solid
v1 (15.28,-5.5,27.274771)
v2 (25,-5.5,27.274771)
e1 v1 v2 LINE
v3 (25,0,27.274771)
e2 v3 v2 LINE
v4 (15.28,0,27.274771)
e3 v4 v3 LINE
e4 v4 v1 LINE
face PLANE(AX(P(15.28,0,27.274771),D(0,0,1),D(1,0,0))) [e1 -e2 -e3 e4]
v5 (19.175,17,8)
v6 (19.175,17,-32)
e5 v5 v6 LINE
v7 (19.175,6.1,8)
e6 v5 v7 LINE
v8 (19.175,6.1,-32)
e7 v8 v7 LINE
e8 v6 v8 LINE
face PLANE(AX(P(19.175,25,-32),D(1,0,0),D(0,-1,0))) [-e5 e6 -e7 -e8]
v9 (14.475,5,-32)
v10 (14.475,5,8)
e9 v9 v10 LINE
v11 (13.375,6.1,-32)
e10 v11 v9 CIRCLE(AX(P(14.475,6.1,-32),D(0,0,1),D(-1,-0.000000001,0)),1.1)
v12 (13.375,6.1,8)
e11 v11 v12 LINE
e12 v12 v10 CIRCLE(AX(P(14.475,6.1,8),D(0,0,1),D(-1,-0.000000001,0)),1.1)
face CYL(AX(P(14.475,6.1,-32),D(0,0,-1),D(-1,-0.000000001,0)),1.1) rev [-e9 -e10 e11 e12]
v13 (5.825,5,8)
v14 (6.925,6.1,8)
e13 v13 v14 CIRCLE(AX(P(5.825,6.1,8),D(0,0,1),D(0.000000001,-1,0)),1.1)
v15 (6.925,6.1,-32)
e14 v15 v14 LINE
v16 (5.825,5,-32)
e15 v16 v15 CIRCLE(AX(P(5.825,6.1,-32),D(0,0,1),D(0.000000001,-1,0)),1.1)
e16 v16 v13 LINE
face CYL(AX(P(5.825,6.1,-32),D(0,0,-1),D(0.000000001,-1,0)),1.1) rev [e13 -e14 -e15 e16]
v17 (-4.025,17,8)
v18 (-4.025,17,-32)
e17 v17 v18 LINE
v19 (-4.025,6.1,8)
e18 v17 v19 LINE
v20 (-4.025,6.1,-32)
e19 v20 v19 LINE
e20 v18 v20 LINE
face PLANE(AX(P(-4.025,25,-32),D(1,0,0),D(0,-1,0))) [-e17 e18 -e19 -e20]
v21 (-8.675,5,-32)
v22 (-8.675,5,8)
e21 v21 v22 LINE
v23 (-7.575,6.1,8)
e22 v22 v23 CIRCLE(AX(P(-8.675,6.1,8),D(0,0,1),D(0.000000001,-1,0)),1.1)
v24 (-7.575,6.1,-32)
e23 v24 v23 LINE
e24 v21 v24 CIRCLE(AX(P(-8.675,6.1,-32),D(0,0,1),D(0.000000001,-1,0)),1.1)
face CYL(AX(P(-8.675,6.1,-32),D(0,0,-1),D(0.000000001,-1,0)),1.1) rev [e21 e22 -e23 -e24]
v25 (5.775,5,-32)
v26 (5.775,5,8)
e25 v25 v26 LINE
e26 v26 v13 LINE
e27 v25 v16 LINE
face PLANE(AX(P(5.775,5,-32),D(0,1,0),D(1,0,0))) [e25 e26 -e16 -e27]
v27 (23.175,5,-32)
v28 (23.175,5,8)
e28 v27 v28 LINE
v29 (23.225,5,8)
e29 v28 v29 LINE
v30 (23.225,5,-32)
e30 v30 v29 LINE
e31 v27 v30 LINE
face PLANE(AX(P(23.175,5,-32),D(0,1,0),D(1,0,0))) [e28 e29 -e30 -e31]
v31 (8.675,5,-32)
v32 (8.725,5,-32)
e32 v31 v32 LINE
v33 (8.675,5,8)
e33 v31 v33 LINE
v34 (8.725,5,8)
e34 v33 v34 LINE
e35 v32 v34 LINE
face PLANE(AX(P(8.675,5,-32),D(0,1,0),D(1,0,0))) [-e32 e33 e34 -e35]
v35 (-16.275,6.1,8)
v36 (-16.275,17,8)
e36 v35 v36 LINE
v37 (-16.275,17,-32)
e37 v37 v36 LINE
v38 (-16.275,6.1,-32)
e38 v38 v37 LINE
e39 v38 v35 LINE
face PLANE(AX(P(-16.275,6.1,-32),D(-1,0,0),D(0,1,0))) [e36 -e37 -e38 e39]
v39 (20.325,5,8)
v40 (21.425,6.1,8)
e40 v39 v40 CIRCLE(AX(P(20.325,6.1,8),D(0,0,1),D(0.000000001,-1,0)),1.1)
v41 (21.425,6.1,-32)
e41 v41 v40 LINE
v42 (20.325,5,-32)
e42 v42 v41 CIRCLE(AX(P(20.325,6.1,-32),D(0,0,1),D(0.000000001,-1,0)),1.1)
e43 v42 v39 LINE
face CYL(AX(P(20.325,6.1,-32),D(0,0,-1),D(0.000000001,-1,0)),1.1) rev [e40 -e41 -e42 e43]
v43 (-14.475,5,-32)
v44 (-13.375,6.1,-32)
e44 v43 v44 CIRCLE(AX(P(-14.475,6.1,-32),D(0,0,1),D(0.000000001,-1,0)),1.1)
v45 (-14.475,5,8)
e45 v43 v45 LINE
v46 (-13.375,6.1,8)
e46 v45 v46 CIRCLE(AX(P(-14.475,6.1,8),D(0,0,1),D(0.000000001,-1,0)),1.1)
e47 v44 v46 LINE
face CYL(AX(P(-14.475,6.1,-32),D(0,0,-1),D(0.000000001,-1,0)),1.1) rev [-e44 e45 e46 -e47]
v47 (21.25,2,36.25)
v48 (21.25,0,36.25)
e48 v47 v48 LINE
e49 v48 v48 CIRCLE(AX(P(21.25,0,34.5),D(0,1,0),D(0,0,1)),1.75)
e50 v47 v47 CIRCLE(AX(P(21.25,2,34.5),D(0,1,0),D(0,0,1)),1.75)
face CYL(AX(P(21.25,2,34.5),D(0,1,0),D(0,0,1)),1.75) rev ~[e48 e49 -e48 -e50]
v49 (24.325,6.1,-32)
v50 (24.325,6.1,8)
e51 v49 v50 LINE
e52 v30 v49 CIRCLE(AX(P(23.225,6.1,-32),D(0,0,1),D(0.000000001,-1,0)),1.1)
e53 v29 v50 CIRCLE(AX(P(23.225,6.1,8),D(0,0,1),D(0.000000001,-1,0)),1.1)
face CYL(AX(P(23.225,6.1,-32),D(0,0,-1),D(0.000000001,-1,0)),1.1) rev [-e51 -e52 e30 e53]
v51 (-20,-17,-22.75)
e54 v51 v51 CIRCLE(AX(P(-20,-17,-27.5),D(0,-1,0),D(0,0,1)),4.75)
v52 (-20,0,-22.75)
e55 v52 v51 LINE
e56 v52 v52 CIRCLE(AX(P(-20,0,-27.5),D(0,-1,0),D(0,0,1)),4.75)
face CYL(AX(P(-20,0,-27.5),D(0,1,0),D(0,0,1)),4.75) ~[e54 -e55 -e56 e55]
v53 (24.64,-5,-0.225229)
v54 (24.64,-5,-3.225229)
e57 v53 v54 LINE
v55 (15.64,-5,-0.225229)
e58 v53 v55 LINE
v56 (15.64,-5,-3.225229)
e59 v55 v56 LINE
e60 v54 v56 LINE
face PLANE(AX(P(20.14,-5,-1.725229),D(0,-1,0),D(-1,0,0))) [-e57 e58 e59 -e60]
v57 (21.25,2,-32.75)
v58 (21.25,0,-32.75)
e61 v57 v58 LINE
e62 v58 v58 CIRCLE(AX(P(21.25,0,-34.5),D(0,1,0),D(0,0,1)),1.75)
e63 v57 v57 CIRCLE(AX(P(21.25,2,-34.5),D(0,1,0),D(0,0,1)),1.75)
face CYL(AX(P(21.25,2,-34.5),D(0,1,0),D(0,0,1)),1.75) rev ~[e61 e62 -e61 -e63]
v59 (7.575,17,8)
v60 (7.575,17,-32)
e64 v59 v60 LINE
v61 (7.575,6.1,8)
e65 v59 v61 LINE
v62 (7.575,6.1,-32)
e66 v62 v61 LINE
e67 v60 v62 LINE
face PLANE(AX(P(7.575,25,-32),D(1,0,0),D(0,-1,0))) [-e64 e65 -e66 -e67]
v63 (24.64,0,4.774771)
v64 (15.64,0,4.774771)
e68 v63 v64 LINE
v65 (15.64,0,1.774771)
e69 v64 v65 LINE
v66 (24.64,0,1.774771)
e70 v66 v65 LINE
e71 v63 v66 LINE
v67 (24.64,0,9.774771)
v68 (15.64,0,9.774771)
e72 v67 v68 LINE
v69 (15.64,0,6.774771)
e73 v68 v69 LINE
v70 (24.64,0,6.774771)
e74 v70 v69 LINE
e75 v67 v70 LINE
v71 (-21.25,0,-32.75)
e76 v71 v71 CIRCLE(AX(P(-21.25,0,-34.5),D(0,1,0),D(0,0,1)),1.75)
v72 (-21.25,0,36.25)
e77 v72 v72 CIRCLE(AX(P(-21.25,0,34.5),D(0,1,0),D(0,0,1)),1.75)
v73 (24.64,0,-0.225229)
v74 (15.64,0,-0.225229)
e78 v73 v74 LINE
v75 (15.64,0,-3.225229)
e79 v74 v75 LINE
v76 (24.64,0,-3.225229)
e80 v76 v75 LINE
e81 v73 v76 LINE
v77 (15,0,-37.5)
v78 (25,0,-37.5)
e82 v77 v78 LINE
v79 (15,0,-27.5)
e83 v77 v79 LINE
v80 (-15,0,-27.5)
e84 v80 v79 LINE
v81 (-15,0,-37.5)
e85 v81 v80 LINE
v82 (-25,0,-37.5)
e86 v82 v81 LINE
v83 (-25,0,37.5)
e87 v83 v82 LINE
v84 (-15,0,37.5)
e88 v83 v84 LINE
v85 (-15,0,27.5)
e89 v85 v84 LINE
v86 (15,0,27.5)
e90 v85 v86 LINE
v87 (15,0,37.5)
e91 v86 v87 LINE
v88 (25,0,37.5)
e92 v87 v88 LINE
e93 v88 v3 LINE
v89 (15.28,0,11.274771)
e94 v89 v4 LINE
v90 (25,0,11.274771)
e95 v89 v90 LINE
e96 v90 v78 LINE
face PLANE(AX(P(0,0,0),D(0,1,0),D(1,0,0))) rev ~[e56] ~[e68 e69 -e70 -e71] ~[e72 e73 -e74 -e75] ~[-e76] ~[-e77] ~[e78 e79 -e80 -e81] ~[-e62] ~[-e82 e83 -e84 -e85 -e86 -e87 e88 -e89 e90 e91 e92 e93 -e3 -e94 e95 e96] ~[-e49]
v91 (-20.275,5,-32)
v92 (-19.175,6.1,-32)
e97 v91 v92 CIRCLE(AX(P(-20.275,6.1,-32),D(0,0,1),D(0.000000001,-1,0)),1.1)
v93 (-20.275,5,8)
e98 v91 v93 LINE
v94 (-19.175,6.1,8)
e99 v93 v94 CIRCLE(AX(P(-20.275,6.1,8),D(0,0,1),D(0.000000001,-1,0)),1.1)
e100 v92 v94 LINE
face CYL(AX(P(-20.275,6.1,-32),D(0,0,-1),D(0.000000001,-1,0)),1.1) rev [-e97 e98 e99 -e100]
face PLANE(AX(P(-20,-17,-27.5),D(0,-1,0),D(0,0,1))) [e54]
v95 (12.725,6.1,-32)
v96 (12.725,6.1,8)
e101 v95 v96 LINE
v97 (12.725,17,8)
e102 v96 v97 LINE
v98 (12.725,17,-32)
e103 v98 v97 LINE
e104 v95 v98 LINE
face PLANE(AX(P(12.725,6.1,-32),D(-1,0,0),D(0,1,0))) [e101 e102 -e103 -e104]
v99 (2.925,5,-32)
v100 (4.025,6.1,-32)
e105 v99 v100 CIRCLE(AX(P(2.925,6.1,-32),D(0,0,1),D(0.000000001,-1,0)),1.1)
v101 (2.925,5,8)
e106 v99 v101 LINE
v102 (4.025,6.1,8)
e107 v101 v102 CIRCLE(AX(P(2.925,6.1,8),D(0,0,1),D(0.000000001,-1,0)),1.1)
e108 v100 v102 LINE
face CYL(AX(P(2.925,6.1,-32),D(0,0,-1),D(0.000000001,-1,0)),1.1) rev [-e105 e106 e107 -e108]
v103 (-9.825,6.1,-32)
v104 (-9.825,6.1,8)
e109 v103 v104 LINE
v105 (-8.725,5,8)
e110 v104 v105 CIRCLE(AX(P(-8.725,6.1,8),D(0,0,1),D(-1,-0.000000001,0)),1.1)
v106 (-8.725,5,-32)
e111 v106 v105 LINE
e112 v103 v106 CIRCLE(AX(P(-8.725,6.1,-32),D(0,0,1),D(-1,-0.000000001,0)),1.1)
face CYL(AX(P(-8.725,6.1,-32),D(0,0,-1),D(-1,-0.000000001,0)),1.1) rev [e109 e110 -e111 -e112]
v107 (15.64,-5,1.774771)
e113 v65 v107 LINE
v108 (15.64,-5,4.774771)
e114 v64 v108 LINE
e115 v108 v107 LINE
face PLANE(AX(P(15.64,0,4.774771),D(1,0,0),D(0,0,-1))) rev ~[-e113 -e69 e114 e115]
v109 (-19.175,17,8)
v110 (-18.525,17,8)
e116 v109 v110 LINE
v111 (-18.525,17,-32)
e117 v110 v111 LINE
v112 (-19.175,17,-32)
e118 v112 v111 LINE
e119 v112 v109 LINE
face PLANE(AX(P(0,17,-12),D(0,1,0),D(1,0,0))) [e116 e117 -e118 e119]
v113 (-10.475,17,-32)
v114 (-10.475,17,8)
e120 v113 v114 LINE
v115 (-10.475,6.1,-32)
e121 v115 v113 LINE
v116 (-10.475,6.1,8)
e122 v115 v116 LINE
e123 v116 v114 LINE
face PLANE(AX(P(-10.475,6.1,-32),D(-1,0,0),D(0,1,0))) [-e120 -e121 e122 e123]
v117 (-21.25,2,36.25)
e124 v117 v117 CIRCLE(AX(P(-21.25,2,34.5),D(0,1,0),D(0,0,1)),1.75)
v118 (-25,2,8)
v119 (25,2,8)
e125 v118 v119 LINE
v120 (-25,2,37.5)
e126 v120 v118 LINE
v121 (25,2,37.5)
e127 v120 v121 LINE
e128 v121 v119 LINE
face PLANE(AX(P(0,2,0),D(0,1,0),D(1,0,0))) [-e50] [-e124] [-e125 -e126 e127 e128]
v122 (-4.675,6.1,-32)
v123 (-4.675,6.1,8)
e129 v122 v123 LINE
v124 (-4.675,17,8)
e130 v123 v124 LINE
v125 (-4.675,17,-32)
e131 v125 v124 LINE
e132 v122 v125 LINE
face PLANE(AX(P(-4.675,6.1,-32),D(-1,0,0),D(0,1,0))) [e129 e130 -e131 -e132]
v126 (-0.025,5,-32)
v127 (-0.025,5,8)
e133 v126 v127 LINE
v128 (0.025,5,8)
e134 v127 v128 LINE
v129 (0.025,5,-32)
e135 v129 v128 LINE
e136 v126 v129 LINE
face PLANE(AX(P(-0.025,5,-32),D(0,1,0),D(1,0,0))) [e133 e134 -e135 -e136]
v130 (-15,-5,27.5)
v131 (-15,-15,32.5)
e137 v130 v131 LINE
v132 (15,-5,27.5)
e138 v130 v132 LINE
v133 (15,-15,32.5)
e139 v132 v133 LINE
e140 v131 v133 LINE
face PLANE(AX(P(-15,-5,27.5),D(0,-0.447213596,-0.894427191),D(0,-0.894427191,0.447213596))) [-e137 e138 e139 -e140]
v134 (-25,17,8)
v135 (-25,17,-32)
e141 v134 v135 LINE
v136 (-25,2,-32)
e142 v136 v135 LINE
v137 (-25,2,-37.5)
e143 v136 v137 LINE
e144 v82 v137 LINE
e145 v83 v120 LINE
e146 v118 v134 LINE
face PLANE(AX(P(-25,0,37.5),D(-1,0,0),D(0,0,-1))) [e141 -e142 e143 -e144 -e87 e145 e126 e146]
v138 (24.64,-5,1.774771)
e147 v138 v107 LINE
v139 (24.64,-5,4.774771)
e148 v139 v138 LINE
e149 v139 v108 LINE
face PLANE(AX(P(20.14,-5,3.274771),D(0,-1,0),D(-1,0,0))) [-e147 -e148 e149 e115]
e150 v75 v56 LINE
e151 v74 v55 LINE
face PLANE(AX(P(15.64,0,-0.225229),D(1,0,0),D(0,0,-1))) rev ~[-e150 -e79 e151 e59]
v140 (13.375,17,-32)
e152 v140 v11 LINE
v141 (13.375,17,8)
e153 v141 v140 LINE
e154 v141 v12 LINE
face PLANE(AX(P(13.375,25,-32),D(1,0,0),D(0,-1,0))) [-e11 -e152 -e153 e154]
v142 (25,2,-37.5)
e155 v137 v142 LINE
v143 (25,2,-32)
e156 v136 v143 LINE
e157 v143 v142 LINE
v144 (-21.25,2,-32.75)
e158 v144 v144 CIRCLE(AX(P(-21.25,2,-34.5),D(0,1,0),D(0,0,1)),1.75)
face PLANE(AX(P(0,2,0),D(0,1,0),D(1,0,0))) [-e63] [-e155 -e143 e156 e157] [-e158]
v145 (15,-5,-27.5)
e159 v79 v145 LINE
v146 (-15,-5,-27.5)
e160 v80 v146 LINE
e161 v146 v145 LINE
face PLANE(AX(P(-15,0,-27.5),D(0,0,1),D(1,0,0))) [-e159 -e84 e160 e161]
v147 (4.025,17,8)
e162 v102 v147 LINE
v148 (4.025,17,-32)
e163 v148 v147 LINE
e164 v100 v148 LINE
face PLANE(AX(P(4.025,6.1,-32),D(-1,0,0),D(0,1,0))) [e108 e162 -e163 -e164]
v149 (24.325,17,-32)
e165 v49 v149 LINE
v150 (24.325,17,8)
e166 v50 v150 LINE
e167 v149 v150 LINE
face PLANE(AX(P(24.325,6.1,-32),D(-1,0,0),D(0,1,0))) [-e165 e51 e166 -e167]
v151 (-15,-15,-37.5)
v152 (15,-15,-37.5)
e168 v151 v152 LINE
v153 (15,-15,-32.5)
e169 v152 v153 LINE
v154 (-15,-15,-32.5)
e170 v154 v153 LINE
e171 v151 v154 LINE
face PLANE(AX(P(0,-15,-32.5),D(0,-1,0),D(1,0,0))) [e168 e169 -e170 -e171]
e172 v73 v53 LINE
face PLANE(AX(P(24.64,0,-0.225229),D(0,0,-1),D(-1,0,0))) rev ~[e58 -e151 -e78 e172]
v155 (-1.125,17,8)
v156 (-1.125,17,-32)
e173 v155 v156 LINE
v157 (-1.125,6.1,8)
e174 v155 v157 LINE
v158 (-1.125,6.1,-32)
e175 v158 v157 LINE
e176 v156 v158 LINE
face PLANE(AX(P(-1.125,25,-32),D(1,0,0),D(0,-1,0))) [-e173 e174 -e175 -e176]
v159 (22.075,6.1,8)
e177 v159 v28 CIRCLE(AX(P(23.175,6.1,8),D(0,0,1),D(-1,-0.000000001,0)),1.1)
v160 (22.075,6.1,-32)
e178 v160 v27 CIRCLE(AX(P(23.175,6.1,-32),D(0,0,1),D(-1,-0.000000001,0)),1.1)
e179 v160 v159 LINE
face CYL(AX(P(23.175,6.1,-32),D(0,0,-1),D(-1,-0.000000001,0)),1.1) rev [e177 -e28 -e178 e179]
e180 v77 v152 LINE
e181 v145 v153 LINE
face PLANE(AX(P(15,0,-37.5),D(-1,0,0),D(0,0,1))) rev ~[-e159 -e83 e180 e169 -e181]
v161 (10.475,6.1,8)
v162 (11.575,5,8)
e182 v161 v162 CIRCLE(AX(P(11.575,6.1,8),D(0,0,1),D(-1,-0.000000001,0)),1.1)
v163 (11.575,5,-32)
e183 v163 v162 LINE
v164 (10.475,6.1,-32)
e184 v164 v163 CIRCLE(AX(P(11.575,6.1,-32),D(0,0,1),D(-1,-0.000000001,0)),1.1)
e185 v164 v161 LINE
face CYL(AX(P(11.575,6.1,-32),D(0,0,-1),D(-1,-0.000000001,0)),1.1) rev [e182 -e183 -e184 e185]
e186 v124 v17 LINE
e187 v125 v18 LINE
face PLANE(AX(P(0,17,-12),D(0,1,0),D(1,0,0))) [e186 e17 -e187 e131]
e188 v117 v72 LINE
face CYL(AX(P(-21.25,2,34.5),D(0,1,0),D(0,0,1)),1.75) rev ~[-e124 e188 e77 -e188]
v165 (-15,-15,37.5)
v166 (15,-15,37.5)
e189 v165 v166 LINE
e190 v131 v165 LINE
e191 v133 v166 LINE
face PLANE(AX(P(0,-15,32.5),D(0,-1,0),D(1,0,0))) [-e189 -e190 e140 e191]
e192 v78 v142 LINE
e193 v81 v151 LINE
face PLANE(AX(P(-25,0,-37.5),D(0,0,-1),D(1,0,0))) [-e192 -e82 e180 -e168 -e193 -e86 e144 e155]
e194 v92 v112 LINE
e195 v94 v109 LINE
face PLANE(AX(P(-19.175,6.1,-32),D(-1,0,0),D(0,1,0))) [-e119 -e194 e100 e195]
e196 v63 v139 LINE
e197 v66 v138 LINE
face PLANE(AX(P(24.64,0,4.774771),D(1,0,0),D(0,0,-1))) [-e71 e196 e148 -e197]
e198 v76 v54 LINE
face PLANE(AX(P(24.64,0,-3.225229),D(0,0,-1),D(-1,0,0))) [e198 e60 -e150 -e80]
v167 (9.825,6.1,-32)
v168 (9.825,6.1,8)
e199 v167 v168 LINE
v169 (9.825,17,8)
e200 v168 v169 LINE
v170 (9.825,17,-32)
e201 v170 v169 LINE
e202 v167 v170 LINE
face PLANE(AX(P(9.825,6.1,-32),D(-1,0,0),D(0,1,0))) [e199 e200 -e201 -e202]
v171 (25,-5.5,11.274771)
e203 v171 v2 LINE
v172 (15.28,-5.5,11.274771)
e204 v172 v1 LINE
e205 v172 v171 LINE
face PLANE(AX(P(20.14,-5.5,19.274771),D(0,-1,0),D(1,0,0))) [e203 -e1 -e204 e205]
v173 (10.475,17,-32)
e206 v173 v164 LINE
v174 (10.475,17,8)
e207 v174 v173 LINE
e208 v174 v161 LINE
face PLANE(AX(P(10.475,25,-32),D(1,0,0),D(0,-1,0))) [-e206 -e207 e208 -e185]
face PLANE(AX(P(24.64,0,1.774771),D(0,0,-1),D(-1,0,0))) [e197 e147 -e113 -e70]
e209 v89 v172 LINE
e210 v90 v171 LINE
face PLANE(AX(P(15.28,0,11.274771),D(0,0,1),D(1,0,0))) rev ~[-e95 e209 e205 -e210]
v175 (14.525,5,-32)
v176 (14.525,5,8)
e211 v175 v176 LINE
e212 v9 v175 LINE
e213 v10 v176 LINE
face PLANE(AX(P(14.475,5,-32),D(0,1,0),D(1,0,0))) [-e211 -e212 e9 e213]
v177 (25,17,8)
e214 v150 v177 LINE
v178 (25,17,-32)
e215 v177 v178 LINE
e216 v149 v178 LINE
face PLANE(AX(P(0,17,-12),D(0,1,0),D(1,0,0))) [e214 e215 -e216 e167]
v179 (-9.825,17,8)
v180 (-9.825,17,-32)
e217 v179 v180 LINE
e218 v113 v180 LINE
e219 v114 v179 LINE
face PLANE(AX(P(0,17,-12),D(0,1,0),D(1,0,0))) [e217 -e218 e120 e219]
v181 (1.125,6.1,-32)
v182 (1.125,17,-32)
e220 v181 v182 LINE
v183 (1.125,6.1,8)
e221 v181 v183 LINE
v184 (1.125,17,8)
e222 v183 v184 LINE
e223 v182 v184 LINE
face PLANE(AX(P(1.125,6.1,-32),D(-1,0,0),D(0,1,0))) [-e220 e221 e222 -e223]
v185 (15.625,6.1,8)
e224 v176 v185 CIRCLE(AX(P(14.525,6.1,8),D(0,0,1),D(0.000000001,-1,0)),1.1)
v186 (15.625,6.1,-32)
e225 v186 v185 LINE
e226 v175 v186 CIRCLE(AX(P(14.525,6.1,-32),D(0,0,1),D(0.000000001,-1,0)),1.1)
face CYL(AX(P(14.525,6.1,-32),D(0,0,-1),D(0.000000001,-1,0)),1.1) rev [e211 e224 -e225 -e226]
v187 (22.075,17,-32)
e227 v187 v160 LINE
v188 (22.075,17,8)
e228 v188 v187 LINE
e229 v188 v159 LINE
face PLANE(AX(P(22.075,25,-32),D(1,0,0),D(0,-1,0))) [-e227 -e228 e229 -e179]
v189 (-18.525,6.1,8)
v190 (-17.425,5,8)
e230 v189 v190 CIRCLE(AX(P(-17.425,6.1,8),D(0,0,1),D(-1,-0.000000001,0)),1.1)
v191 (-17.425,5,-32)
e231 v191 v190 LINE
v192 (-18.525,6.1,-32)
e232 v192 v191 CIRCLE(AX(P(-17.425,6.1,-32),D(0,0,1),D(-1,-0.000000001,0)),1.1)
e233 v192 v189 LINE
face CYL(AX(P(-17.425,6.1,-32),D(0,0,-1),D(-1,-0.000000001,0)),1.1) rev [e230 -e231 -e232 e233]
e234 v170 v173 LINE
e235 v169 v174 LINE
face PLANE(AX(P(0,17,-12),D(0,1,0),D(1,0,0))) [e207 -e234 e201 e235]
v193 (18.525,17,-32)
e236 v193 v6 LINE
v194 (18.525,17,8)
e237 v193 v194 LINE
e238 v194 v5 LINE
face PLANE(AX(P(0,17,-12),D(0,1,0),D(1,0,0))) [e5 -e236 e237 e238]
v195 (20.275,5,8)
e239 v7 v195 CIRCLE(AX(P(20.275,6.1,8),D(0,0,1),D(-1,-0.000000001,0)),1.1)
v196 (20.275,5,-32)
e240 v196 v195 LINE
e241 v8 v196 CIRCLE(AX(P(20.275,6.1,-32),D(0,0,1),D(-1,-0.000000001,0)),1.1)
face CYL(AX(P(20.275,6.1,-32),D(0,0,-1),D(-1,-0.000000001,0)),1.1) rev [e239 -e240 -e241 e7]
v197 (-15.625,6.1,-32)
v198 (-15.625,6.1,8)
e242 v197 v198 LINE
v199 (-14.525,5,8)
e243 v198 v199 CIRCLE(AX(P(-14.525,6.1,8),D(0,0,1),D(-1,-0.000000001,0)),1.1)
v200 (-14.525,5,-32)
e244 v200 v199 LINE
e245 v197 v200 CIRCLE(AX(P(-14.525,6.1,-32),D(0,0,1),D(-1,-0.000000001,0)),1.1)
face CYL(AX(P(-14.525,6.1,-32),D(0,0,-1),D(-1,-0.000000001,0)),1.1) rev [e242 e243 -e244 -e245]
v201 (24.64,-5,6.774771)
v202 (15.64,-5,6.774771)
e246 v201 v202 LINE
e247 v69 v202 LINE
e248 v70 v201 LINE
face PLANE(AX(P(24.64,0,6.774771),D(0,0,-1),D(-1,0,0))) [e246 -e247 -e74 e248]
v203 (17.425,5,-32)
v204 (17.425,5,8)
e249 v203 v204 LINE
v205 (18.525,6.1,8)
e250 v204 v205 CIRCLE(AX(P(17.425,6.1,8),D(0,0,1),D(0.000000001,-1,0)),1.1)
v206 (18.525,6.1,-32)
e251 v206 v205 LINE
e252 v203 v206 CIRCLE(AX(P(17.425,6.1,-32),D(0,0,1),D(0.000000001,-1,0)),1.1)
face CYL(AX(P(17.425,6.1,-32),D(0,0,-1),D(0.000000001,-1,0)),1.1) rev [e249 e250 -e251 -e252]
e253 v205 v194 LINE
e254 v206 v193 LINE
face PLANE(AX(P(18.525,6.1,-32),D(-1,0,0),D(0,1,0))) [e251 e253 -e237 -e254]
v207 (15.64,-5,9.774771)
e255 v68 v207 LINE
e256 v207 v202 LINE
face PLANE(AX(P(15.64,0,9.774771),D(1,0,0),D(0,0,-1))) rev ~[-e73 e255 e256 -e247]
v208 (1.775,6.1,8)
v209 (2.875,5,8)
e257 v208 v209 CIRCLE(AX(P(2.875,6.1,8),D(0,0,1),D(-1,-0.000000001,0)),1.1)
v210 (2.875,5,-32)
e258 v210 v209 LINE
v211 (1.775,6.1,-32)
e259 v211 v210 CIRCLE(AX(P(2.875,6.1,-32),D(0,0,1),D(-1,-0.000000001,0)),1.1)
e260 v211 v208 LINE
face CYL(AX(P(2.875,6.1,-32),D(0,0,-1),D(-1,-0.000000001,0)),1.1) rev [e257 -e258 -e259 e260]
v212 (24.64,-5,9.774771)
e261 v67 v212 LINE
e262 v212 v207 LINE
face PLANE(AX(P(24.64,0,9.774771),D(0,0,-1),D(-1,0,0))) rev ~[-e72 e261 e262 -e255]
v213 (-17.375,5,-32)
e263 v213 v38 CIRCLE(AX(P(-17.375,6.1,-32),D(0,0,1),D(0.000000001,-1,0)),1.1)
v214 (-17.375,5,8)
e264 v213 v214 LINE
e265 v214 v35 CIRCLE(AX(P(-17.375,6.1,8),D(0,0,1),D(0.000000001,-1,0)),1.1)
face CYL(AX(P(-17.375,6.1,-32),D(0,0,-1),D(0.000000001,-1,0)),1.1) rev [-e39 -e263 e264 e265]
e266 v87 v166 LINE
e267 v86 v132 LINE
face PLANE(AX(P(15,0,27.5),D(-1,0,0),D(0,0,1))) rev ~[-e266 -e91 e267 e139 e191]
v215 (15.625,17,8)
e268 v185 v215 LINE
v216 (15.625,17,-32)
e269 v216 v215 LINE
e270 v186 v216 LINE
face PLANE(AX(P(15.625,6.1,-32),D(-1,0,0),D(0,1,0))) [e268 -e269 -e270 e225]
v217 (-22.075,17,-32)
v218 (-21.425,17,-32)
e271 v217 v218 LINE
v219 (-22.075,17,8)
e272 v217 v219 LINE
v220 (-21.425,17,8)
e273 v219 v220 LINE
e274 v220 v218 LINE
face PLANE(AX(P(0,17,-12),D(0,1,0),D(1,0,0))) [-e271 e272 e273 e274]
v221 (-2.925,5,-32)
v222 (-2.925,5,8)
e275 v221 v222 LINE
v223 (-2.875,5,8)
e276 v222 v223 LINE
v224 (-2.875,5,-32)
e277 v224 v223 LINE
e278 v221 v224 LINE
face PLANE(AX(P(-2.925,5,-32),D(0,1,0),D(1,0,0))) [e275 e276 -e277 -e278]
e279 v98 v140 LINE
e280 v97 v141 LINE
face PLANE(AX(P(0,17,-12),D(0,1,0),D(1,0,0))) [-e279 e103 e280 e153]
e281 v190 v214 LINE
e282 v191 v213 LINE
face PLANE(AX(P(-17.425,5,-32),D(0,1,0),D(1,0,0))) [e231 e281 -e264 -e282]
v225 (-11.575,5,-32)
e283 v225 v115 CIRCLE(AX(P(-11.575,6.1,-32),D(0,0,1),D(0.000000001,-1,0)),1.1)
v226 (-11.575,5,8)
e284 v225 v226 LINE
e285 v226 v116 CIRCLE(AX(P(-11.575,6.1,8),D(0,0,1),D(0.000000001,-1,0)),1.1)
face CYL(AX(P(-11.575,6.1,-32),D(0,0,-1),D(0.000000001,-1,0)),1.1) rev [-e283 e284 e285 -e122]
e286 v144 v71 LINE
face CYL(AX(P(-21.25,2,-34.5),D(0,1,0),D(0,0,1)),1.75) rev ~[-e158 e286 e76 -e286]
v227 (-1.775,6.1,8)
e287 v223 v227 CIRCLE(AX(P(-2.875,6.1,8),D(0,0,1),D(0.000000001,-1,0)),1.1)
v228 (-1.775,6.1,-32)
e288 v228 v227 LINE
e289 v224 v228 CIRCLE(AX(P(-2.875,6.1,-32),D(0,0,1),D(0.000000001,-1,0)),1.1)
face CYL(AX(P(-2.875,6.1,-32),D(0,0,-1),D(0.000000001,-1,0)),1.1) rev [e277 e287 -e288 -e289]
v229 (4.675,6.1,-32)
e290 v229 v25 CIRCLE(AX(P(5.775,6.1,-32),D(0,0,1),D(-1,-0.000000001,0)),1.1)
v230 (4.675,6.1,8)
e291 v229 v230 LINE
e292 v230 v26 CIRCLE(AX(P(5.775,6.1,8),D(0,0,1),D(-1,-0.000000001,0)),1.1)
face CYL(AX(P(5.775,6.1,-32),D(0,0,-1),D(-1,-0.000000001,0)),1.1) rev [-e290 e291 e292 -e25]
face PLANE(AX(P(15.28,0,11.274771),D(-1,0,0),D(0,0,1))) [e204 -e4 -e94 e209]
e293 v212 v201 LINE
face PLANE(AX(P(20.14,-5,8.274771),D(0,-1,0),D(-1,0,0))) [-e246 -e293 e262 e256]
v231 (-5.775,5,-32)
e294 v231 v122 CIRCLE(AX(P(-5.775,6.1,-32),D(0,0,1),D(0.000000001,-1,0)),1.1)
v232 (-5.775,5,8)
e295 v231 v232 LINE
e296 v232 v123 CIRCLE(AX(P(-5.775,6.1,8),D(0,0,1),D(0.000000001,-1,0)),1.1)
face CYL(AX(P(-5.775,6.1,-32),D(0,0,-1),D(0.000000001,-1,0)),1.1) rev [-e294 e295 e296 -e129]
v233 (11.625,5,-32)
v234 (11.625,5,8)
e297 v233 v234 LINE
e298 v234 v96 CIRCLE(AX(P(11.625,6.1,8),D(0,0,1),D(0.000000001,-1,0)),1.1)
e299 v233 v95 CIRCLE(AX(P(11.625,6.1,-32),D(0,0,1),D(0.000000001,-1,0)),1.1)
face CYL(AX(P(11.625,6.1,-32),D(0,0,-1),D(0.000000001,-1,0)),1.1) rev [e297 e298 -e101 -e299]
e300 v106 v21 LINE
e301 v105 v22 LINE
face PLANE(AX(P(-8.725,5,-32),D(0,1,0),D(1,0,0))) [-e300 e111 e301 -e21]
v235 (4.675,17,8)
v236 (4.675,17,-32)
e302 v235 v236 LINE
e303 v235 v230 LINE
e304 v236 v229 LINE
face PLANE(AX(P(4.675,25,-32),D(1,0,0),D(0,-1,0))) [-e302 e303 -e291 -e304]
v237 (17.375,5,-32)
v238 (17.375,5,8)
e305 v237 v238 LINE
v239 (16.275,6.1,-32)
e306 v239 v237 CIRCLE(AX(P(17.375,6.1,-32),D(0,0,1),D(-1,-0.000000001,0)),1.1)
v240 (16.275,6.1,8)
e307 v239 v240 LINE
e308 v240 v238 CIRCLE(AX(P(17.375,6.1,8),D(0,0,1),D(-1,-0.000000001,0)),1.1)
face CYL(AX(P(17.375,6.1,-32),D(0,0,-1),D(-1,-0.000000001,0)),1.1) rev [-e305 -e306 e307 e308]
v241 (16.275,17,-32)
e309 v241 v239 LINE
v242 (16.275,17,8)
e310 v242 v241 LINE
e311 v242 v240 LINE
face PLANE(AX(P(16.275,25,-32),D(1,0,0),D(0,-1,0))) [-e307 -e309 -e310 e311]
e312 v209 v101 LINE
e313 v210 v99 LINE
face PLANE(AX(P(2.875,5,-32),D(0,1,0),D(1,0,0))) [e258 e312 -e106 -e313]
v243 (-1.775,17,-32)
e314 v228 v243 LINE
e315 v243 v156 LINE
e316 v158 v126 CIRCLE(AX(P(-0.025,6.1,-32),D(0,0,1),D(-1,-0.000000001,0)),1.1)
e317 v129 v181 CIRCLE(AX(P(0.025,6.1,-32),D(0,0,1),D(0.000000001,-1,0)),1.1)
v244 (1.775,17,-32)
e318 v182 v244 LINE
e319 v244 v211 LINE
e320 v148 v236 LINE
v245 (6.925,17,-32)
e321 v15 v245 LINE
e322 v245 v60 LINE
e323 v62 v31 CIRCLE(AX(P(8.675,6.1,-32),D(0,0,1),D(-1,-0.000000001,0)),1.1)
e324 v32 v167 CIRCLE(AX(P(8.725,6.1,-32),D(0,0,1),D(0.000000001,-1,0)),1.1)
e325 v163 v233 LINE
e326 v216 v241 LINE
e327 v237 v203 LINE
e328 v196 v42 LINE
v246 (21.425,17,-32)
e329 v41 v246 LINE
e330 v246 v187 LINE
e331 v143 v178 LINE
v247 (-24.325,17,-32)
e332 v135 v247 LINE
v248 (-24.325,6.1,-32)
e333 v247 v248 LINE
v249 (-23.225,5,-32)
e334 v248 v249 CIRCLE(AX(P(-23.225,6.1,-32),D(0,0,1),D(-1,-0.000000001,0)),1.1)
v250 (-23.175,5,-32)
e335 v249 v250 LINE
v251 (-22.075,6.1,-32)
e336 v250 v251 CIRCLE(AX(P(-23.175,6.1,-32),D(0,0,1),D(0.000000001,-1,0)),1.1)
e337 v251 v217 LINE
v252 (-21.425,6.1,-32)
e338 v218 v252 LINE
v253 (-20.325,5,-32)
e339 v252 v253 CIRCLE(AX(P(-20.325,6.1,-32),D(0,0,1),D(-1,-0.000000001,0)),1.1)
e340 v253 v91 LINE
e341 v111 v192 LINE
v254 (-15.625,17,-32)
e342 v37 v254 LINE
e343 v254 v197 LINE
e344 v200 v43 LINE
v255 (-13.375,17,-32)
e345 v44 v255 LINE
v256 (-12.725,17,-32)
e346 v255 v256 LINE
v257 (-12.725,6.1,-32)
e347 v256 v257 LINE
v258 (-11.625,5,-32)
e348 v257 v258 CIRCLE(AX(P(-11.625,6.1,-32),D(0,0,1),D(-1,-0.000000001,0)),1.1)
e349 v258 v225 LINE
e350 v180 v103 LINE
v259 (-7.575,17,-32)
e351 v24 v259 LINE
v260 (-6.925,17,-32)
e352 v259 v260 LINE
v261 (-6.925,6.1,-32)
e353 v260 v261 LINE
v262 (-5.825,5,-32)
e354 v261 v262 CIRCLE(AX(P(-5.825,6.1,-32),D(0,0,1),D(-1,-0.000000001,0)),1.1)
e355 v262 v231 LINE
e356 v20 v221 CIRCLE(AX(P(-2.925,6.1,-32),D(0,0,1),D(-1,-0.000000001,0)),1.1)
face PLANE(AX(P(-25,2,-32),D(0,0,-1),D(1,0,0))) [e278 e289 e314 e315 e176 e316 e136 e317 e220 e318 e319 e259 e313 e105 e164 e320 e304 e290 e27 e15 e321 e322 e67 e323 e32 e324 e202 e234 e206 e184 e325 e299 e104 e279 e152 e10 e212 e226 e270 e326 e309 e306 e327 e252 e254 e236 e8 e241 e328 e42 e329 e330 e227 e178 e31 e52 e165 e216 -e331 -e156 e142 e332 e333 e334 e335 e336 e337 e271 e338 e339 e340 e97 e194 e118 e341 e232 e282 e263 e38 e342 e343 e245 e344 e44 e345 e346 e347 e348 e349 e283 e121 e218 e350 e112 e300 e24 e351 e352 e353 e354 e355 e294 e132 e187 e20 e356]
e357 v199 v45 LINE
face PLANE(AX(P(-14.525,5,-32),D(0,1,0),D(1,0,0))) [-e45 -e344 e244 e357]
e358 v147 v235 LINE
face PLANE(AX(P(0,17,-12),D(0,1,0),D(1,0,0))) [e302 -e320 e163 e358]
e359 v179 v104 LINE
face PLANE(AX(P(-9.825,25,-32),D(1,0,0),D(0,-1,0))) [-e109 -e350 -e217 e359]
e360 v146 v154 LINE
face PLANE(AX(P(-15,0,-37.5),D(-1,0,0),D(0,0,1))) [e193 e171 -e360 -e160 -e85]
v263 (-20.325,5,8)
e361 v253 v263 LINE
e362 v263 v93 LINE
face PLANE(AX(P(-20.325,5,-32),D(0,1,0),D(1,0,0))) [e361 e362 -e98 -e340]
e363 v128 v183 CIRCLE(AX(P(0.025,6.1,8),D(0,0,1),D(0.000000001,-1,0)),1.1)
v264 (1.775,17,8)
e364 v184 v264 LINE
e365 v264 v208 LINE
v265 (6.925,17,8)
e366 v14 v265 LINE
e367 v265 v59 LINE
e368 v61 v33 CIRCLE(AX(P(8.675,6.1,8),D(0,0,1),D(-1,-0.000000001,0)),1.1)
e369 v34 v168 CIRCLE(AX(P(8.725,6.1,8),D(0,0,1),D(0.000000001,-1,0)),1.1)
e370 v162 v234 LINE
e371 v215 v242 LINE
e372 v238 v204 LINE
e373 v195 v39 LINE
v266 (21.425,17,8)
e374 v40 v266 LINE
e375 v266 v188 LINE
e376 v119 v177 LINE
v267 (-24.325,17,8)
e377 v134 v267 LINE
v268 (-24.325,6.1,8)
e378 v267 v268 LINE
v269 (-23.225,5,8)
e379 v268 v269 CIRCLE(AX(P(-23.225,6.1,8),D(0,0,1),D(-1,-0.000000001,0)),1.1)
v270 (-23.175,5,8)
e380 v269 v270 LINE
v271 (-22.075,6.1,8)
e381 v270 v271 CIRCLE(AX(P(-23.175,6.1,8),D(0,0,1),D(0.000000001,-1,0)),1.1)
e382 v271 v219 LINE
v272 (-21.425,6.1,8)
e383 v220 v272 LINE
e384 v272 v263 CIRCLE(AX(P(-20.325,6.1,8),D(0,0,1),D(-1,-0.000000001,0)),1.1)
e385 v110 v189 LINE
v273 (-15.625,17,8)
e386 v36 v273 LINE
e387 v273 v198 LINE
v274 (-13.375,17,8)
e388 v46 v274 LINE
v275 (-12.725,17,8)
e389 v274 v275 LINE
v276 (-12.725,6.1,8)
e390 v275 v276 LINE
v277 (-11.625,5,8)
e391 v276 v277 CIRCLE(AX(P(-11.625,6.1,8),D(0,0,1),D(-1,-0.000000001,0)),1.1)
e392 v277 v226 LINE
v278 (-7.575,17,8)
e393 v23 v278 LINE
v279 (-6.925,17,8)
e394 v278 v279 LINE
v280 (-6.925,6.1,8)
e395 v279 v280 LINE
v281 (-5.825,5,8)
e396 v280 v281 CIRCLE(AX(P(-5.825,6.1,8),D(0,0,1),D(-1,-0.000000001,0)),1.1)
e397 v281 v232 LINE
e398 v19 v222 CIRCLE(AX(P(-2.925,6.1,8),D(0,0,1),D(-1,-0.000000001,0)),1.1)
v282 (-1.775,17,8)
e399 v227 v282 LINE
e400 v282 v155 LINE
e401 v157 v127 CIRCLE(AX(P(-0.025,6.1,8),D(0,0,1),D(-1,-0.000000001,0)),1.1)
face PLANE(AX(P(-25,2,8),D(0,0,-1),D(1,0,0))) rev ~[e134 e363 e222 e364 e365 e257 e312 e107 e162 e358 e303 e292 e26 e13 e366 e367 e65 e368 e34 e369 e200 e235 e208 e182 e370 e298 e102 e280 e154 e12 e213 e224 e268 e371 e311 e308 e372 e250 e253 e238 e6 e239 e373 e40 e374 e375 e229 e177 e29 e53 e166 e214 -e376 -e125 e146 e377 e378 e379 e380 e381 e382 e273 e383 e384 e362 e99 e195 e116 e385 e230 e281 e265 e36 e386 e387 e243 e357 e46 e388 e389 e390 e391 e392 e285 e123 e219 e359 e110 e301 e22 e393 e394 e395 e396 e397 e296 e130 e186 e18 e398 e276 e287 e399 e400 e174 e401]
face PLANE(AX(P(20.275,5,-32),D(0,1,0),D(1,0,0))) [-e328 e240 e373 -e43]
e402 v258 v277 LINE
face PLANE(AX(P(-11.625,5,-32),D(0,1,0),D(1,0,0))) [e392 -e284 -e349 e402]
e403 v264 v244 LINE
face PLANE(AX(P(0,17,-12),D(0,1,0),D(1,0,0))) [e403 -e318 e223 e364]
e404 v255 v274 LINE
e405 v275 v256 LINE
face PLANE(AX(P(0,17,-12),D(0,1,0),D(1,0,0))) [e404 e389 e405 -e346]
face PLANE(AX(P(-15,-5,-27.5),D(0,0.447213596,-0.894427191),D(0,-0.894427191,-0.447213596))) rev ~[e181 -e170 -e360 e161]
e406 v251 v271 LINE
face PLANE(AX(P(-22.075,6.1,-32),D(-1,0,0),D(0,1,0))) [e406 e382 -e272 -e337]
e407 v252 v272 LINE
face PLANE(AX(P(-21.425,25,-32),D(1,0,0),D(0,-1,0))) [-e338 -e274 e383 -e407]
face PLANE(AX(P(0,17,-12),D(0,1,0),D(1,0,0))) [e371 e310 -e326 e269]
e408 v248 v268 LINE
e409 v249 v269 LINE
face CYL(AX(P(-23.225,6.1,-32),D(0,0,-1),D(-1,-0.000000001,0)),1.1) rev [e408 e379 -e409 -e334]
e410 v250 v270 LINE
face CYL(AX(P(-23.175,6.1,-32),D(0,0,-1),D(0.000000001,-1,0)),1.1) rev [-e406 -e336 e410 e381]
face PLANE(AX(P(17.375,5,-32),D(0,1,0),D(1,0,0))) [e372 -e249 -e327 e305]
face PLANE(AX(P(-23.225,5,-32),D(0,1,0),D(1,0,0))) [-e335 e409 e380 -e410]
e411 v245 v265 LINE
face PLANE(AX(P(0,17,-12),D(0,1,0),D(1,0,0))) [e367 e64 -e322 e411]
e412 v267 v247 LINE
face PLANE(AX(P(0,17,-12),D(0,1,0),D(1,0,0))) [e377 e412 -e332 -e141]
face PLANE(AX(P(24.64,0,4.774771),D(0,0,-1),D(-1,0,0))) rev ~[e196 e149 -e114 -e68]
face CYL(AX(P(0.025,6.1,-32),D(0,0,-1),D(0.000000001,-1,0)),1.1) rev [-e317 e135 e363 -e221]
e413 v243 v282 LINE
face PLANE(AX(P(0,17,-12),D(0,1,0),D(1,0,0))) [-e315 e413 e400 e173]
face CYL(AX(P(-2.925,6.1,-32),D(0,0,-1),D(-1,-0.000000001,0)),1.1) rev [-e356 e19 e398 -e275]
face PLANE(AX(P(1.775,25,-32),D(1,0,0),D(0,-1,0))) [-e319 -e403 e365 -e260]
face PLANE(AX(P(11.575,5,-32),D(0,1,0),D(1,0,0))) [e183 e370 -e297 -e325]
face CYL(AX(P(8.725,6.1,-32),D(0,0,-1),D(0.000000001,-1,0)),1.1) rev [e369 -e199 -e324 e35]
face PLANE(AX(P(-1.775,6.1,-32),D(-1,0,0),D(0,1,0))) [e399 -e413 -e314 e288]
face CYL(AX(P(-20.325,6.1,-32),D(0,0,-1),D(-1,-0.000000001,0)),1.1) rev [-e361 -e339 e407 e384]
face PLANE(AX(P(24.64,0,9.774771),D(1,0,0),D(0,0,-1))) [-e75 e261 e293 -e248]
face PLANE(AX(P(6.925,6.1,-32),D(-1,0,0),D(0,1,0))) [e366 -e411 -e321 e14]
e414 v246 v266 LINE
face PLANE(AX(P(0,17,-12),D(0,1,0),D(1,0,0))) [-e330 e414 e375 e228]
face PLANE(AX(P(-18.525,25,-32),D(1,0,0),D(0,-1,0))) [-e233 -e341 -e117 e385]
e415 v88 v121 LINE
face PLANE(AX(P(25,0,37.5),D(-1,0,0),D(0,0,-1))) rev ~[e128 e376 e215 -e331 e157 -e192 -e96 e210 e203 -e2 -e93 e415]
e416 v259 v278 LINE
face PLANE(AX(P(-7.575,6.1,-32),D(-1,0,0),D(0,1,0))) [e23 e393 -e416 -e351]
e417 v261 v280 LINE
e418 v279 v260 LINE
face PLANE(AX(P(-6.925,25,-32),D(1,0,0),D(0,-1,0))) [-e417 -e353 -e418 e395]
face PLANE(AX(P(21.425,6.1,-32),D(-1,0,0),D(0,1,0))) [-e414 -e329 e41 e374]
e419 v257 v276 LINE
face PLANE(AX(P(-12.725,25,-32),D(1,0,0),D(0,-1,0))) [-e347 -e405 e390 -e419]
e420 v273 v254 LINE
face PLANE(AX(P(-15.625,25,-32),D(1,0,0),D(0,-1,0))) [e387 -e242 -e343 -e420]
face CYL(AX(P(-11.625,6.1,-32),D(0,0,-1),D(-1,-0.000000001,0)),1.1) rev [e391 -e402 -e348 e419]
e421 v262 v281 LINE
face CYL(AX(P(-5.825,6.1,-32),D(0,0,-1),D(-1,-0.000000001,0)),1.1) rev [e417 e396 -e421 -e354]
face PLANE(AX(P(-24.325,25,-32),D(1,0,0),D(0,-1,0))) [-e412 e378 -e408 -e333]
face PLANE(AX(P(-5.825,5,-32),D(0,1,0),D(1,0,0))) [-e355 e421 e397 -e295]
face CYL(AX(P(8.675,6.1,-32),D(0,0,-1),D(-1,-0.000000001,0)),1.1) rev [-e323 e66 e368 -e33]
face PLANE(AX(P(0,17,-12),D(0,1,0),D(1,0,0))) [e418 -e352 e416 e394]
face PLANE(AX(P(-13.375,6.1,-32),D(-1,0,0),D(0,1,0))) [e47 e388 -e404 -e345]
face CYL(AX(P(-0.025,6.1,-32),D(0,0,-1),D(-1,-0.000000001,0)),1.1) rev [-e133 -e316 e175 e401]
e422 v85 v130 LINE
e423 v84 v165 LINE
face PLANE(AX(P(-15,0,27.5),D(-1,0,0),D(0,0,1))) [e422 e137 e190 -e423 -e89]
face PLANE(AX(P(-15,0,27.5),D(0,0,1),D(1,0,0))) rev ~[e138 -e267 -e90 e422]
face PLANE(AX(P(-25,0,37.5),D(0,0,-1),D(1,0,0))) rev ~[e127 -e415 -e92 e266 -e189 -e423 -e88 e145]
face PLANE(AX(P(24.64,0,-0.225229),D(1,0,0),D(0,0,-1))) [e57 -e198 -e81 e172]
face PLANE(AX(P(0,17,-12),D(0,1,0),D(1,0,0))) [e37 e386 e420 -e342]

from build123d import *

# Parameters (mm, degrees)
SKETCH1_W            = 50
SKETCH1_H            = 75
BOSS_EXTRUDE1_DEPTH  = 2
SKETCH2_W            = 50
SKETCH2_H            = 40
BOSS_EXTRUDE2_DEPTH  = 15
CUT_EXTRUDE1_DEPTH   = 40
SKETCH4_W            = 30
SKETCH4_H            = 10
BOSS_EXTRUDE3_DEPTH  = 15
CUT_EXTRUDE2_DEPTH   = 30
SKETCH6_R            = 4.75
BOSS_EXTRUDE6_DEPTH  = 17
SKETCH7_W            = 9.72
SKETCH7_H            = 16
BOSS_EXTRUDE9_DEPTH  = 5.5
SKETCH8_W            = 9
SKETCH8_H            = 3
BOSS_EXTRUDE10_DEPTH = 5
SKETCH9_R            = 1.75
CUT_EXTRUDE4_DEPTH   = 2


with BuildPart() as part:
    # Sketch1 → Boss-Extrude1 (new body)
    with BuildSketch(Plane(origin=(0, 0, 0), x_dir=(1, 0, 0), z_dir=(0, 1, 0))):
        Rectangle(SKETCH1_W, SKETCH1_H)
    extrude(amount=BOSS_EXTRUDE1_DEPTH)

    # Sketch2 → Boss-Extrude2 (add)
    with BuildSketch(Plane(origin=(0, 2, 0), x_dir=(1, 0, 0), z_dir=(0, 1, 0))):
        with Locations((0, 12)):
            Rectangle(SKETCH2_W, SKETCH2_H)
    extrude(amount=BOSS_EXTRUDE2_DEPTH)

    # Sketch3 → Cut-Extrude1 (cut)
    with BuildSketch(Plane(origin=(0, 0, -32), x_dir=(-1, 0, 0), z_dir=(0, 0, -1))):
        with BuildLine():
            Line((4.025, 25), (4.025, 6.1))
            ThreePointArc((4.025, 6.1), (3.702817459, 5.322182541), (2.925, 5))
            Line((2.925, 5), (2.875, 5))
            ThreePointArc((2.875, 5), (2.097182541, 5.322182541), (1.775, 6.1))
            Line((1.775, 6.1), (1.775, 25))
            Line((1.775, 25), (4.025, 25))
        make_face()
        with BuildLine():
            Line((-1.125, 25), (1.125, 25))
            Line((1.125, 25), (1.125, 6.1))
            ThreePointArc((1.125, 6.1), (0.802817459, 5.322182541), (0.025, 5))
            Line((0.025, 5), (-0.025, 5))
            ThreePointArc((-0.025, 5), (-0.802817459, 5.322182541), (-1.125, 6.1))
            Line((-1.125, 6.1), (-1.125, 25))
        make_face()
        with BuildLine():
            Line((6.925, 25), (6.925, 6.1))
            ThreePointArc((6.925, 6.1), (6.602817459, 5.322182541), (5.825, 5))
            Line((5.825, 5), (5.775, 5))
            ThreePointArc((5.775, 5), (4.997182541, 5.322182541), (4.675, 6.1))
            Line((4.675, 6.1), (4.675, 25))
            Line((4.675, 25), (6.925, 25))
        make_face()
        with BuildLine():
            Line((9.825, 25), (9.825, 6.1))
            ThreePointArc((9.825, 6.1), (9.502817459, 5.322182541), (8.725, 5))
            Line((8.725, 5), (8.675, 5))
            ThreePointArc((8.675, 5), (7.897182541, 5.322182541), (7.575, 6.1))
            Line((7.575, 6.1), (7.575, 25))
            Line((7.575, 25), (9.825, 25))
        make_face()
        with BuildLine():
            Line((12.725, 25), (12.725, 6.1))
            ThreePointArc((12.725, 6.1), (12.402817459, 5.322182541), (11.625, 5))
            Line((11.625, 5), (11.575, 5))
            ThreePointArc((11.575, 5), (10.797182541, 5.322182541), (10.475, 6.1))
            Line((10.475, 6.1), (10.475, 25))
            Line((10.475, 25), (12.725, 25))
        make_face()
        with BuildLine():
            Line((15.625, 25), (15.625, 6.1))
            ThreePointArc((15.625, 6.1), (15.302817459, 5.322182541), (14.525, 5))
            Line((14.525, 5), (14.475, 5))
            ThreePointArc((14.475, 5), (13.697182541, 5.322182541), (13.375, 6.1))
            Line((13.375, 6.1), (13.375, 25))
            Line((13.375, 25), (15.625, 25))
        make_face()
        with BuildLine():
            Line((18.525, 25), (18.525, 6.1))
            ThreePointArc((18.525, 6.1), (18.202817459, 5.322182541), (17.425, 5))
            Line((17.425, 5), (17.375, 5))
            ThreePointArc((17.375, 5), (16.597182541, 5.322182541), (16.275, 6.1))
            Line((16.275, 6.1), (16.275, 25))
            Line((16.275, 25), (18.525, 25))
        make_face()
        with BuildLine():
            Line((21.425, 25), (21.425, 6.1))
            ThreePointArc((21.425, 6.1), (21.102817459, 5.322182541), (20.325, 5))
            Line((20.325, 5), (20.275, 5))
            ThreePointArc((20.275, 5), (19.497182541, 5.322182541), (19.175, 6.1))
            Line((19.175, 6.1), (19.175, 25))
            Line((19.175, 25), (21.425, 25))
        make_face()
        with BuildLine():
            Line((24.325, 25), (24.325, 6.1))
            ThreePointArc((24.325, 6.1), (24.002817459, 5.322182541), (23.225, 5))
            Line((23.225, 5), (23.175, 5))
            ThreePointArc((23.175, 5), (22.397182541, 5.322182541), (22.075, 6.1))
            Line((22.075, 6.1), (22.075, 25))
            Line((22.075, 25), (24.325, 25))
        make_face()
        with BuildLine():
            Line((-1.775, 25), (-1.775, 6.1))
            ThreePointArc((-1.775, 6.1), (-2.097182541, 5.322182541), (-2.875, 5))
            Line((-2.875, 5), (-2.925, 5))
            ThreePointArc((-2.925, 5), (-3.702817459, 5.322182541), (-4.025, 6.1))
            Line((-4.025, 6.1), (-4.025, 25))
            Line((-4.025, 25), (-1.775, 25))
        make_face()
        with BuildLine():
            Line((-4.675, 25), (-4.675, 6.1))
            ThreePointArc((-4.675, 6.1), (-4.997182541, 5.322182541), (-5.775, 5))
            Line((-5.775, 5), (-5.825, 5))
            ThreePointArc((-5.825, 5), (-6.602817459, 5.322182541), (-6.925, 6.1))
            Line((-6.925, 6.1), (-6.925, 25))
            Line((-6.925, 25), (-4.675, 25))
        make_face()
        with BuildLine():
            Line((-7.575, 25), (-7.575, 6.1))
            ThreePointArc((-7.575, 6.1), (-7.897182541, 5.322182541), (-8.675, 5))
            Line((-8.675, 5), (-8.725, 5))
            ThreePointArc((-8.725, 5), (-9.502817459, 5.322182541), (-9.825, 6.1))
            Line((-9.825, 6.1), (-9.825, 25))
            Line((-9.825, 25), (-7.575, 25))
        make_face()
        with BuildLine():
            Line((-10.475, 25), (-10.475, 6.1))
            ThreePointArc((-10.475, 6.1), (-10.797182541, 5.322182541), (-11.575, 5))
            Line((-11.575, 5), (-11.625, 5))
            ThreePointArc((-11.625, 5), (-12.402817459, 5.322182541), (-12.725, 6.1))
            Line((-12.725, 6.1), (-12.725, 25))
            Line((-12.725, 25), (-10.475, 25))
        make_face()
        with BuildLine():
            Line((-13.375, 25), (-13.375, 6.1))
            ThreePointArc((-13.375, 6.1), (-13.697182541, 5.322182541), (-14.475, 5))
            Line((-14.475, 5), (-14.525, 5))
            ThreePointArc((-14.525, 5), (-15.302817459, 5.322182541), (-15.625, 6.1))
            Line((-15.625, 6.1), (-15.625, 25))
            Line((-15.625, 25), (-13.375, 25))
        make_face()
        with BuildLine():
            Line((-16.275, 25), (-16.275, 6.1))
            ThreePointArc((-16.275, 6.1), (-16.597182541, 5.322182541), (-17.375, 5))
            Line((-17.375, 5), (-17.425, 5))
            ThreePointArc((-17.425, 5), (-18.202817459, 5.322182541), (-18.525, 6.1))
            Line((-18.525, 6.1), (-18.525, 25))
            Line((-18.525, 25), (-16.275, 25))
        make_face()
        with BuildLine():
            Line((-19.175, 25), (-19.175, 6.1))
            ThreePointArc((-19.175, 6.1), (-19.497182541, 5.322182541), (-20.275, 5))
            Line((-20.275, 5), (-20.325, 5))
            ThreePointArc((-20.325, 5), (-21.102817459, 5.322182541), (-21.425, 6.1))
            Line((-21.425, 6.1), (-21.425, 25))
            Line((-21.425, 25), (-19.175, 25))
        make_face()
        with BuildLine():
            Line((-22.075, 25), (-22.075, 6.1))
            ThreePointArc((-22.075, 6.1), (-22.397182541, 5.322182541), (-23.175, 5))
            Line((-23.175, 5), (-23.225, 5))
            ThreePointArc((-23.225, 5), (-24.002817459, 5.322182541), (-24.325, 6.1))
            Line((-24.325, 6.1), (-24.325, 25))
            Line((-24.325, 25), (-22.075, 25))
        make_face()
    extrude(amount=-CUT_EXTRUDE1_DEPTH, mode=Mode.SUBTRACT)

    # Sketch4 → Boss-Extrude3 (add)
    with BuildSketch(Plane.XZ):
        with Locations((0, 32.5)):
            Rectangle(SKETCH4_W, SKETCH4_H)
        with Locations((0, -32.5)):
            Rectangle(SKETCH4_W, SKETCH4_H)
    extrude(amount=BOSS_EXTRUDE3_DEPTH)

    # Sketch5 → Cut-Extrude2 (cut)
    with BuildSketch(Plane.ZY.offset(15)):
        Polygon((-27.5, -15), (-27.5, -5), (-32.5, -15), align=None)
        Polygon((32.5, -15), (27.5, -15), (27.5, -5), align=None)
    extrude(amount=-CUT_EXTRUDE2_DEPTH, mode=Mode.SUBTRACT)

    # Sketch6 → Boss-Extrude6 (add)
    with BuildSketch(Plane.XZ):
        with Locations(Location((-20, -27.5, 0), (0, 0, 90))):
            Circle(SKETCH6_R)
    extrude(amount=BOSS_EXTRUDE6_DEPTH)

    # Sketch7 → Boss-Extrude9 (add)
    with BuildSketch(Plane.XZ):
        with Locations((20.14, 19.274770973)):
            Rectangle(SKETCH7_W, SKETCH7_H)
    extrude(amount=BOSS_EXTRUDE9_DEPTH)

    # Sketch8 → Boss-Extrude10 (add)
    with BuildSketch(Plane(origin=(0, 0, 0), x_dir=(-1, 0, 0), z_dir=(0, -1, 0))):
        with Locations((-20.14, -3.274770973)):
            Rectangle(SKETCH8_W, SKETCH8_H)
        with Locations((-20.14, -8.274770973)):
            Rectangle(SKETCH8_W, SKETCH8_H)
        with Locations((-20.14, 1.725229027)):
            Rectangle(SKETCH8_W, SKETCH8_H)
    extrude(amount=BOSS_EXTRUDE10_DEPTH)

    # Sketch9 → Cut-Extrude4 (cut)
    with BuildSketch(Plane(origin=(0, 2, 0), x_dir=(1, 0, 0), z_dir=(0, 1, 0))):
        with Locations(Location((-21.25, 34.5, 0), (0, 0, 270))):
            Circle(SKETCH9_R)
        with Locations(Location((21.25, 34.5, 0), (0, 0, 270))):
            Circle(SKETCH9_R)
        with Locations(Location((-21.25, -34.5, 0), (0, 0, 270))):
            Circle(SKETCH9_R)
        with Locations(Location((21.25, -34.5, 0), (0, 0, 270))):
            Circle(SKETCH9_R)
    extrude(amount=-CUT_EXTRUDE4_DEPTH, mode=Mode.SUBTRACT)


solid = part.part
